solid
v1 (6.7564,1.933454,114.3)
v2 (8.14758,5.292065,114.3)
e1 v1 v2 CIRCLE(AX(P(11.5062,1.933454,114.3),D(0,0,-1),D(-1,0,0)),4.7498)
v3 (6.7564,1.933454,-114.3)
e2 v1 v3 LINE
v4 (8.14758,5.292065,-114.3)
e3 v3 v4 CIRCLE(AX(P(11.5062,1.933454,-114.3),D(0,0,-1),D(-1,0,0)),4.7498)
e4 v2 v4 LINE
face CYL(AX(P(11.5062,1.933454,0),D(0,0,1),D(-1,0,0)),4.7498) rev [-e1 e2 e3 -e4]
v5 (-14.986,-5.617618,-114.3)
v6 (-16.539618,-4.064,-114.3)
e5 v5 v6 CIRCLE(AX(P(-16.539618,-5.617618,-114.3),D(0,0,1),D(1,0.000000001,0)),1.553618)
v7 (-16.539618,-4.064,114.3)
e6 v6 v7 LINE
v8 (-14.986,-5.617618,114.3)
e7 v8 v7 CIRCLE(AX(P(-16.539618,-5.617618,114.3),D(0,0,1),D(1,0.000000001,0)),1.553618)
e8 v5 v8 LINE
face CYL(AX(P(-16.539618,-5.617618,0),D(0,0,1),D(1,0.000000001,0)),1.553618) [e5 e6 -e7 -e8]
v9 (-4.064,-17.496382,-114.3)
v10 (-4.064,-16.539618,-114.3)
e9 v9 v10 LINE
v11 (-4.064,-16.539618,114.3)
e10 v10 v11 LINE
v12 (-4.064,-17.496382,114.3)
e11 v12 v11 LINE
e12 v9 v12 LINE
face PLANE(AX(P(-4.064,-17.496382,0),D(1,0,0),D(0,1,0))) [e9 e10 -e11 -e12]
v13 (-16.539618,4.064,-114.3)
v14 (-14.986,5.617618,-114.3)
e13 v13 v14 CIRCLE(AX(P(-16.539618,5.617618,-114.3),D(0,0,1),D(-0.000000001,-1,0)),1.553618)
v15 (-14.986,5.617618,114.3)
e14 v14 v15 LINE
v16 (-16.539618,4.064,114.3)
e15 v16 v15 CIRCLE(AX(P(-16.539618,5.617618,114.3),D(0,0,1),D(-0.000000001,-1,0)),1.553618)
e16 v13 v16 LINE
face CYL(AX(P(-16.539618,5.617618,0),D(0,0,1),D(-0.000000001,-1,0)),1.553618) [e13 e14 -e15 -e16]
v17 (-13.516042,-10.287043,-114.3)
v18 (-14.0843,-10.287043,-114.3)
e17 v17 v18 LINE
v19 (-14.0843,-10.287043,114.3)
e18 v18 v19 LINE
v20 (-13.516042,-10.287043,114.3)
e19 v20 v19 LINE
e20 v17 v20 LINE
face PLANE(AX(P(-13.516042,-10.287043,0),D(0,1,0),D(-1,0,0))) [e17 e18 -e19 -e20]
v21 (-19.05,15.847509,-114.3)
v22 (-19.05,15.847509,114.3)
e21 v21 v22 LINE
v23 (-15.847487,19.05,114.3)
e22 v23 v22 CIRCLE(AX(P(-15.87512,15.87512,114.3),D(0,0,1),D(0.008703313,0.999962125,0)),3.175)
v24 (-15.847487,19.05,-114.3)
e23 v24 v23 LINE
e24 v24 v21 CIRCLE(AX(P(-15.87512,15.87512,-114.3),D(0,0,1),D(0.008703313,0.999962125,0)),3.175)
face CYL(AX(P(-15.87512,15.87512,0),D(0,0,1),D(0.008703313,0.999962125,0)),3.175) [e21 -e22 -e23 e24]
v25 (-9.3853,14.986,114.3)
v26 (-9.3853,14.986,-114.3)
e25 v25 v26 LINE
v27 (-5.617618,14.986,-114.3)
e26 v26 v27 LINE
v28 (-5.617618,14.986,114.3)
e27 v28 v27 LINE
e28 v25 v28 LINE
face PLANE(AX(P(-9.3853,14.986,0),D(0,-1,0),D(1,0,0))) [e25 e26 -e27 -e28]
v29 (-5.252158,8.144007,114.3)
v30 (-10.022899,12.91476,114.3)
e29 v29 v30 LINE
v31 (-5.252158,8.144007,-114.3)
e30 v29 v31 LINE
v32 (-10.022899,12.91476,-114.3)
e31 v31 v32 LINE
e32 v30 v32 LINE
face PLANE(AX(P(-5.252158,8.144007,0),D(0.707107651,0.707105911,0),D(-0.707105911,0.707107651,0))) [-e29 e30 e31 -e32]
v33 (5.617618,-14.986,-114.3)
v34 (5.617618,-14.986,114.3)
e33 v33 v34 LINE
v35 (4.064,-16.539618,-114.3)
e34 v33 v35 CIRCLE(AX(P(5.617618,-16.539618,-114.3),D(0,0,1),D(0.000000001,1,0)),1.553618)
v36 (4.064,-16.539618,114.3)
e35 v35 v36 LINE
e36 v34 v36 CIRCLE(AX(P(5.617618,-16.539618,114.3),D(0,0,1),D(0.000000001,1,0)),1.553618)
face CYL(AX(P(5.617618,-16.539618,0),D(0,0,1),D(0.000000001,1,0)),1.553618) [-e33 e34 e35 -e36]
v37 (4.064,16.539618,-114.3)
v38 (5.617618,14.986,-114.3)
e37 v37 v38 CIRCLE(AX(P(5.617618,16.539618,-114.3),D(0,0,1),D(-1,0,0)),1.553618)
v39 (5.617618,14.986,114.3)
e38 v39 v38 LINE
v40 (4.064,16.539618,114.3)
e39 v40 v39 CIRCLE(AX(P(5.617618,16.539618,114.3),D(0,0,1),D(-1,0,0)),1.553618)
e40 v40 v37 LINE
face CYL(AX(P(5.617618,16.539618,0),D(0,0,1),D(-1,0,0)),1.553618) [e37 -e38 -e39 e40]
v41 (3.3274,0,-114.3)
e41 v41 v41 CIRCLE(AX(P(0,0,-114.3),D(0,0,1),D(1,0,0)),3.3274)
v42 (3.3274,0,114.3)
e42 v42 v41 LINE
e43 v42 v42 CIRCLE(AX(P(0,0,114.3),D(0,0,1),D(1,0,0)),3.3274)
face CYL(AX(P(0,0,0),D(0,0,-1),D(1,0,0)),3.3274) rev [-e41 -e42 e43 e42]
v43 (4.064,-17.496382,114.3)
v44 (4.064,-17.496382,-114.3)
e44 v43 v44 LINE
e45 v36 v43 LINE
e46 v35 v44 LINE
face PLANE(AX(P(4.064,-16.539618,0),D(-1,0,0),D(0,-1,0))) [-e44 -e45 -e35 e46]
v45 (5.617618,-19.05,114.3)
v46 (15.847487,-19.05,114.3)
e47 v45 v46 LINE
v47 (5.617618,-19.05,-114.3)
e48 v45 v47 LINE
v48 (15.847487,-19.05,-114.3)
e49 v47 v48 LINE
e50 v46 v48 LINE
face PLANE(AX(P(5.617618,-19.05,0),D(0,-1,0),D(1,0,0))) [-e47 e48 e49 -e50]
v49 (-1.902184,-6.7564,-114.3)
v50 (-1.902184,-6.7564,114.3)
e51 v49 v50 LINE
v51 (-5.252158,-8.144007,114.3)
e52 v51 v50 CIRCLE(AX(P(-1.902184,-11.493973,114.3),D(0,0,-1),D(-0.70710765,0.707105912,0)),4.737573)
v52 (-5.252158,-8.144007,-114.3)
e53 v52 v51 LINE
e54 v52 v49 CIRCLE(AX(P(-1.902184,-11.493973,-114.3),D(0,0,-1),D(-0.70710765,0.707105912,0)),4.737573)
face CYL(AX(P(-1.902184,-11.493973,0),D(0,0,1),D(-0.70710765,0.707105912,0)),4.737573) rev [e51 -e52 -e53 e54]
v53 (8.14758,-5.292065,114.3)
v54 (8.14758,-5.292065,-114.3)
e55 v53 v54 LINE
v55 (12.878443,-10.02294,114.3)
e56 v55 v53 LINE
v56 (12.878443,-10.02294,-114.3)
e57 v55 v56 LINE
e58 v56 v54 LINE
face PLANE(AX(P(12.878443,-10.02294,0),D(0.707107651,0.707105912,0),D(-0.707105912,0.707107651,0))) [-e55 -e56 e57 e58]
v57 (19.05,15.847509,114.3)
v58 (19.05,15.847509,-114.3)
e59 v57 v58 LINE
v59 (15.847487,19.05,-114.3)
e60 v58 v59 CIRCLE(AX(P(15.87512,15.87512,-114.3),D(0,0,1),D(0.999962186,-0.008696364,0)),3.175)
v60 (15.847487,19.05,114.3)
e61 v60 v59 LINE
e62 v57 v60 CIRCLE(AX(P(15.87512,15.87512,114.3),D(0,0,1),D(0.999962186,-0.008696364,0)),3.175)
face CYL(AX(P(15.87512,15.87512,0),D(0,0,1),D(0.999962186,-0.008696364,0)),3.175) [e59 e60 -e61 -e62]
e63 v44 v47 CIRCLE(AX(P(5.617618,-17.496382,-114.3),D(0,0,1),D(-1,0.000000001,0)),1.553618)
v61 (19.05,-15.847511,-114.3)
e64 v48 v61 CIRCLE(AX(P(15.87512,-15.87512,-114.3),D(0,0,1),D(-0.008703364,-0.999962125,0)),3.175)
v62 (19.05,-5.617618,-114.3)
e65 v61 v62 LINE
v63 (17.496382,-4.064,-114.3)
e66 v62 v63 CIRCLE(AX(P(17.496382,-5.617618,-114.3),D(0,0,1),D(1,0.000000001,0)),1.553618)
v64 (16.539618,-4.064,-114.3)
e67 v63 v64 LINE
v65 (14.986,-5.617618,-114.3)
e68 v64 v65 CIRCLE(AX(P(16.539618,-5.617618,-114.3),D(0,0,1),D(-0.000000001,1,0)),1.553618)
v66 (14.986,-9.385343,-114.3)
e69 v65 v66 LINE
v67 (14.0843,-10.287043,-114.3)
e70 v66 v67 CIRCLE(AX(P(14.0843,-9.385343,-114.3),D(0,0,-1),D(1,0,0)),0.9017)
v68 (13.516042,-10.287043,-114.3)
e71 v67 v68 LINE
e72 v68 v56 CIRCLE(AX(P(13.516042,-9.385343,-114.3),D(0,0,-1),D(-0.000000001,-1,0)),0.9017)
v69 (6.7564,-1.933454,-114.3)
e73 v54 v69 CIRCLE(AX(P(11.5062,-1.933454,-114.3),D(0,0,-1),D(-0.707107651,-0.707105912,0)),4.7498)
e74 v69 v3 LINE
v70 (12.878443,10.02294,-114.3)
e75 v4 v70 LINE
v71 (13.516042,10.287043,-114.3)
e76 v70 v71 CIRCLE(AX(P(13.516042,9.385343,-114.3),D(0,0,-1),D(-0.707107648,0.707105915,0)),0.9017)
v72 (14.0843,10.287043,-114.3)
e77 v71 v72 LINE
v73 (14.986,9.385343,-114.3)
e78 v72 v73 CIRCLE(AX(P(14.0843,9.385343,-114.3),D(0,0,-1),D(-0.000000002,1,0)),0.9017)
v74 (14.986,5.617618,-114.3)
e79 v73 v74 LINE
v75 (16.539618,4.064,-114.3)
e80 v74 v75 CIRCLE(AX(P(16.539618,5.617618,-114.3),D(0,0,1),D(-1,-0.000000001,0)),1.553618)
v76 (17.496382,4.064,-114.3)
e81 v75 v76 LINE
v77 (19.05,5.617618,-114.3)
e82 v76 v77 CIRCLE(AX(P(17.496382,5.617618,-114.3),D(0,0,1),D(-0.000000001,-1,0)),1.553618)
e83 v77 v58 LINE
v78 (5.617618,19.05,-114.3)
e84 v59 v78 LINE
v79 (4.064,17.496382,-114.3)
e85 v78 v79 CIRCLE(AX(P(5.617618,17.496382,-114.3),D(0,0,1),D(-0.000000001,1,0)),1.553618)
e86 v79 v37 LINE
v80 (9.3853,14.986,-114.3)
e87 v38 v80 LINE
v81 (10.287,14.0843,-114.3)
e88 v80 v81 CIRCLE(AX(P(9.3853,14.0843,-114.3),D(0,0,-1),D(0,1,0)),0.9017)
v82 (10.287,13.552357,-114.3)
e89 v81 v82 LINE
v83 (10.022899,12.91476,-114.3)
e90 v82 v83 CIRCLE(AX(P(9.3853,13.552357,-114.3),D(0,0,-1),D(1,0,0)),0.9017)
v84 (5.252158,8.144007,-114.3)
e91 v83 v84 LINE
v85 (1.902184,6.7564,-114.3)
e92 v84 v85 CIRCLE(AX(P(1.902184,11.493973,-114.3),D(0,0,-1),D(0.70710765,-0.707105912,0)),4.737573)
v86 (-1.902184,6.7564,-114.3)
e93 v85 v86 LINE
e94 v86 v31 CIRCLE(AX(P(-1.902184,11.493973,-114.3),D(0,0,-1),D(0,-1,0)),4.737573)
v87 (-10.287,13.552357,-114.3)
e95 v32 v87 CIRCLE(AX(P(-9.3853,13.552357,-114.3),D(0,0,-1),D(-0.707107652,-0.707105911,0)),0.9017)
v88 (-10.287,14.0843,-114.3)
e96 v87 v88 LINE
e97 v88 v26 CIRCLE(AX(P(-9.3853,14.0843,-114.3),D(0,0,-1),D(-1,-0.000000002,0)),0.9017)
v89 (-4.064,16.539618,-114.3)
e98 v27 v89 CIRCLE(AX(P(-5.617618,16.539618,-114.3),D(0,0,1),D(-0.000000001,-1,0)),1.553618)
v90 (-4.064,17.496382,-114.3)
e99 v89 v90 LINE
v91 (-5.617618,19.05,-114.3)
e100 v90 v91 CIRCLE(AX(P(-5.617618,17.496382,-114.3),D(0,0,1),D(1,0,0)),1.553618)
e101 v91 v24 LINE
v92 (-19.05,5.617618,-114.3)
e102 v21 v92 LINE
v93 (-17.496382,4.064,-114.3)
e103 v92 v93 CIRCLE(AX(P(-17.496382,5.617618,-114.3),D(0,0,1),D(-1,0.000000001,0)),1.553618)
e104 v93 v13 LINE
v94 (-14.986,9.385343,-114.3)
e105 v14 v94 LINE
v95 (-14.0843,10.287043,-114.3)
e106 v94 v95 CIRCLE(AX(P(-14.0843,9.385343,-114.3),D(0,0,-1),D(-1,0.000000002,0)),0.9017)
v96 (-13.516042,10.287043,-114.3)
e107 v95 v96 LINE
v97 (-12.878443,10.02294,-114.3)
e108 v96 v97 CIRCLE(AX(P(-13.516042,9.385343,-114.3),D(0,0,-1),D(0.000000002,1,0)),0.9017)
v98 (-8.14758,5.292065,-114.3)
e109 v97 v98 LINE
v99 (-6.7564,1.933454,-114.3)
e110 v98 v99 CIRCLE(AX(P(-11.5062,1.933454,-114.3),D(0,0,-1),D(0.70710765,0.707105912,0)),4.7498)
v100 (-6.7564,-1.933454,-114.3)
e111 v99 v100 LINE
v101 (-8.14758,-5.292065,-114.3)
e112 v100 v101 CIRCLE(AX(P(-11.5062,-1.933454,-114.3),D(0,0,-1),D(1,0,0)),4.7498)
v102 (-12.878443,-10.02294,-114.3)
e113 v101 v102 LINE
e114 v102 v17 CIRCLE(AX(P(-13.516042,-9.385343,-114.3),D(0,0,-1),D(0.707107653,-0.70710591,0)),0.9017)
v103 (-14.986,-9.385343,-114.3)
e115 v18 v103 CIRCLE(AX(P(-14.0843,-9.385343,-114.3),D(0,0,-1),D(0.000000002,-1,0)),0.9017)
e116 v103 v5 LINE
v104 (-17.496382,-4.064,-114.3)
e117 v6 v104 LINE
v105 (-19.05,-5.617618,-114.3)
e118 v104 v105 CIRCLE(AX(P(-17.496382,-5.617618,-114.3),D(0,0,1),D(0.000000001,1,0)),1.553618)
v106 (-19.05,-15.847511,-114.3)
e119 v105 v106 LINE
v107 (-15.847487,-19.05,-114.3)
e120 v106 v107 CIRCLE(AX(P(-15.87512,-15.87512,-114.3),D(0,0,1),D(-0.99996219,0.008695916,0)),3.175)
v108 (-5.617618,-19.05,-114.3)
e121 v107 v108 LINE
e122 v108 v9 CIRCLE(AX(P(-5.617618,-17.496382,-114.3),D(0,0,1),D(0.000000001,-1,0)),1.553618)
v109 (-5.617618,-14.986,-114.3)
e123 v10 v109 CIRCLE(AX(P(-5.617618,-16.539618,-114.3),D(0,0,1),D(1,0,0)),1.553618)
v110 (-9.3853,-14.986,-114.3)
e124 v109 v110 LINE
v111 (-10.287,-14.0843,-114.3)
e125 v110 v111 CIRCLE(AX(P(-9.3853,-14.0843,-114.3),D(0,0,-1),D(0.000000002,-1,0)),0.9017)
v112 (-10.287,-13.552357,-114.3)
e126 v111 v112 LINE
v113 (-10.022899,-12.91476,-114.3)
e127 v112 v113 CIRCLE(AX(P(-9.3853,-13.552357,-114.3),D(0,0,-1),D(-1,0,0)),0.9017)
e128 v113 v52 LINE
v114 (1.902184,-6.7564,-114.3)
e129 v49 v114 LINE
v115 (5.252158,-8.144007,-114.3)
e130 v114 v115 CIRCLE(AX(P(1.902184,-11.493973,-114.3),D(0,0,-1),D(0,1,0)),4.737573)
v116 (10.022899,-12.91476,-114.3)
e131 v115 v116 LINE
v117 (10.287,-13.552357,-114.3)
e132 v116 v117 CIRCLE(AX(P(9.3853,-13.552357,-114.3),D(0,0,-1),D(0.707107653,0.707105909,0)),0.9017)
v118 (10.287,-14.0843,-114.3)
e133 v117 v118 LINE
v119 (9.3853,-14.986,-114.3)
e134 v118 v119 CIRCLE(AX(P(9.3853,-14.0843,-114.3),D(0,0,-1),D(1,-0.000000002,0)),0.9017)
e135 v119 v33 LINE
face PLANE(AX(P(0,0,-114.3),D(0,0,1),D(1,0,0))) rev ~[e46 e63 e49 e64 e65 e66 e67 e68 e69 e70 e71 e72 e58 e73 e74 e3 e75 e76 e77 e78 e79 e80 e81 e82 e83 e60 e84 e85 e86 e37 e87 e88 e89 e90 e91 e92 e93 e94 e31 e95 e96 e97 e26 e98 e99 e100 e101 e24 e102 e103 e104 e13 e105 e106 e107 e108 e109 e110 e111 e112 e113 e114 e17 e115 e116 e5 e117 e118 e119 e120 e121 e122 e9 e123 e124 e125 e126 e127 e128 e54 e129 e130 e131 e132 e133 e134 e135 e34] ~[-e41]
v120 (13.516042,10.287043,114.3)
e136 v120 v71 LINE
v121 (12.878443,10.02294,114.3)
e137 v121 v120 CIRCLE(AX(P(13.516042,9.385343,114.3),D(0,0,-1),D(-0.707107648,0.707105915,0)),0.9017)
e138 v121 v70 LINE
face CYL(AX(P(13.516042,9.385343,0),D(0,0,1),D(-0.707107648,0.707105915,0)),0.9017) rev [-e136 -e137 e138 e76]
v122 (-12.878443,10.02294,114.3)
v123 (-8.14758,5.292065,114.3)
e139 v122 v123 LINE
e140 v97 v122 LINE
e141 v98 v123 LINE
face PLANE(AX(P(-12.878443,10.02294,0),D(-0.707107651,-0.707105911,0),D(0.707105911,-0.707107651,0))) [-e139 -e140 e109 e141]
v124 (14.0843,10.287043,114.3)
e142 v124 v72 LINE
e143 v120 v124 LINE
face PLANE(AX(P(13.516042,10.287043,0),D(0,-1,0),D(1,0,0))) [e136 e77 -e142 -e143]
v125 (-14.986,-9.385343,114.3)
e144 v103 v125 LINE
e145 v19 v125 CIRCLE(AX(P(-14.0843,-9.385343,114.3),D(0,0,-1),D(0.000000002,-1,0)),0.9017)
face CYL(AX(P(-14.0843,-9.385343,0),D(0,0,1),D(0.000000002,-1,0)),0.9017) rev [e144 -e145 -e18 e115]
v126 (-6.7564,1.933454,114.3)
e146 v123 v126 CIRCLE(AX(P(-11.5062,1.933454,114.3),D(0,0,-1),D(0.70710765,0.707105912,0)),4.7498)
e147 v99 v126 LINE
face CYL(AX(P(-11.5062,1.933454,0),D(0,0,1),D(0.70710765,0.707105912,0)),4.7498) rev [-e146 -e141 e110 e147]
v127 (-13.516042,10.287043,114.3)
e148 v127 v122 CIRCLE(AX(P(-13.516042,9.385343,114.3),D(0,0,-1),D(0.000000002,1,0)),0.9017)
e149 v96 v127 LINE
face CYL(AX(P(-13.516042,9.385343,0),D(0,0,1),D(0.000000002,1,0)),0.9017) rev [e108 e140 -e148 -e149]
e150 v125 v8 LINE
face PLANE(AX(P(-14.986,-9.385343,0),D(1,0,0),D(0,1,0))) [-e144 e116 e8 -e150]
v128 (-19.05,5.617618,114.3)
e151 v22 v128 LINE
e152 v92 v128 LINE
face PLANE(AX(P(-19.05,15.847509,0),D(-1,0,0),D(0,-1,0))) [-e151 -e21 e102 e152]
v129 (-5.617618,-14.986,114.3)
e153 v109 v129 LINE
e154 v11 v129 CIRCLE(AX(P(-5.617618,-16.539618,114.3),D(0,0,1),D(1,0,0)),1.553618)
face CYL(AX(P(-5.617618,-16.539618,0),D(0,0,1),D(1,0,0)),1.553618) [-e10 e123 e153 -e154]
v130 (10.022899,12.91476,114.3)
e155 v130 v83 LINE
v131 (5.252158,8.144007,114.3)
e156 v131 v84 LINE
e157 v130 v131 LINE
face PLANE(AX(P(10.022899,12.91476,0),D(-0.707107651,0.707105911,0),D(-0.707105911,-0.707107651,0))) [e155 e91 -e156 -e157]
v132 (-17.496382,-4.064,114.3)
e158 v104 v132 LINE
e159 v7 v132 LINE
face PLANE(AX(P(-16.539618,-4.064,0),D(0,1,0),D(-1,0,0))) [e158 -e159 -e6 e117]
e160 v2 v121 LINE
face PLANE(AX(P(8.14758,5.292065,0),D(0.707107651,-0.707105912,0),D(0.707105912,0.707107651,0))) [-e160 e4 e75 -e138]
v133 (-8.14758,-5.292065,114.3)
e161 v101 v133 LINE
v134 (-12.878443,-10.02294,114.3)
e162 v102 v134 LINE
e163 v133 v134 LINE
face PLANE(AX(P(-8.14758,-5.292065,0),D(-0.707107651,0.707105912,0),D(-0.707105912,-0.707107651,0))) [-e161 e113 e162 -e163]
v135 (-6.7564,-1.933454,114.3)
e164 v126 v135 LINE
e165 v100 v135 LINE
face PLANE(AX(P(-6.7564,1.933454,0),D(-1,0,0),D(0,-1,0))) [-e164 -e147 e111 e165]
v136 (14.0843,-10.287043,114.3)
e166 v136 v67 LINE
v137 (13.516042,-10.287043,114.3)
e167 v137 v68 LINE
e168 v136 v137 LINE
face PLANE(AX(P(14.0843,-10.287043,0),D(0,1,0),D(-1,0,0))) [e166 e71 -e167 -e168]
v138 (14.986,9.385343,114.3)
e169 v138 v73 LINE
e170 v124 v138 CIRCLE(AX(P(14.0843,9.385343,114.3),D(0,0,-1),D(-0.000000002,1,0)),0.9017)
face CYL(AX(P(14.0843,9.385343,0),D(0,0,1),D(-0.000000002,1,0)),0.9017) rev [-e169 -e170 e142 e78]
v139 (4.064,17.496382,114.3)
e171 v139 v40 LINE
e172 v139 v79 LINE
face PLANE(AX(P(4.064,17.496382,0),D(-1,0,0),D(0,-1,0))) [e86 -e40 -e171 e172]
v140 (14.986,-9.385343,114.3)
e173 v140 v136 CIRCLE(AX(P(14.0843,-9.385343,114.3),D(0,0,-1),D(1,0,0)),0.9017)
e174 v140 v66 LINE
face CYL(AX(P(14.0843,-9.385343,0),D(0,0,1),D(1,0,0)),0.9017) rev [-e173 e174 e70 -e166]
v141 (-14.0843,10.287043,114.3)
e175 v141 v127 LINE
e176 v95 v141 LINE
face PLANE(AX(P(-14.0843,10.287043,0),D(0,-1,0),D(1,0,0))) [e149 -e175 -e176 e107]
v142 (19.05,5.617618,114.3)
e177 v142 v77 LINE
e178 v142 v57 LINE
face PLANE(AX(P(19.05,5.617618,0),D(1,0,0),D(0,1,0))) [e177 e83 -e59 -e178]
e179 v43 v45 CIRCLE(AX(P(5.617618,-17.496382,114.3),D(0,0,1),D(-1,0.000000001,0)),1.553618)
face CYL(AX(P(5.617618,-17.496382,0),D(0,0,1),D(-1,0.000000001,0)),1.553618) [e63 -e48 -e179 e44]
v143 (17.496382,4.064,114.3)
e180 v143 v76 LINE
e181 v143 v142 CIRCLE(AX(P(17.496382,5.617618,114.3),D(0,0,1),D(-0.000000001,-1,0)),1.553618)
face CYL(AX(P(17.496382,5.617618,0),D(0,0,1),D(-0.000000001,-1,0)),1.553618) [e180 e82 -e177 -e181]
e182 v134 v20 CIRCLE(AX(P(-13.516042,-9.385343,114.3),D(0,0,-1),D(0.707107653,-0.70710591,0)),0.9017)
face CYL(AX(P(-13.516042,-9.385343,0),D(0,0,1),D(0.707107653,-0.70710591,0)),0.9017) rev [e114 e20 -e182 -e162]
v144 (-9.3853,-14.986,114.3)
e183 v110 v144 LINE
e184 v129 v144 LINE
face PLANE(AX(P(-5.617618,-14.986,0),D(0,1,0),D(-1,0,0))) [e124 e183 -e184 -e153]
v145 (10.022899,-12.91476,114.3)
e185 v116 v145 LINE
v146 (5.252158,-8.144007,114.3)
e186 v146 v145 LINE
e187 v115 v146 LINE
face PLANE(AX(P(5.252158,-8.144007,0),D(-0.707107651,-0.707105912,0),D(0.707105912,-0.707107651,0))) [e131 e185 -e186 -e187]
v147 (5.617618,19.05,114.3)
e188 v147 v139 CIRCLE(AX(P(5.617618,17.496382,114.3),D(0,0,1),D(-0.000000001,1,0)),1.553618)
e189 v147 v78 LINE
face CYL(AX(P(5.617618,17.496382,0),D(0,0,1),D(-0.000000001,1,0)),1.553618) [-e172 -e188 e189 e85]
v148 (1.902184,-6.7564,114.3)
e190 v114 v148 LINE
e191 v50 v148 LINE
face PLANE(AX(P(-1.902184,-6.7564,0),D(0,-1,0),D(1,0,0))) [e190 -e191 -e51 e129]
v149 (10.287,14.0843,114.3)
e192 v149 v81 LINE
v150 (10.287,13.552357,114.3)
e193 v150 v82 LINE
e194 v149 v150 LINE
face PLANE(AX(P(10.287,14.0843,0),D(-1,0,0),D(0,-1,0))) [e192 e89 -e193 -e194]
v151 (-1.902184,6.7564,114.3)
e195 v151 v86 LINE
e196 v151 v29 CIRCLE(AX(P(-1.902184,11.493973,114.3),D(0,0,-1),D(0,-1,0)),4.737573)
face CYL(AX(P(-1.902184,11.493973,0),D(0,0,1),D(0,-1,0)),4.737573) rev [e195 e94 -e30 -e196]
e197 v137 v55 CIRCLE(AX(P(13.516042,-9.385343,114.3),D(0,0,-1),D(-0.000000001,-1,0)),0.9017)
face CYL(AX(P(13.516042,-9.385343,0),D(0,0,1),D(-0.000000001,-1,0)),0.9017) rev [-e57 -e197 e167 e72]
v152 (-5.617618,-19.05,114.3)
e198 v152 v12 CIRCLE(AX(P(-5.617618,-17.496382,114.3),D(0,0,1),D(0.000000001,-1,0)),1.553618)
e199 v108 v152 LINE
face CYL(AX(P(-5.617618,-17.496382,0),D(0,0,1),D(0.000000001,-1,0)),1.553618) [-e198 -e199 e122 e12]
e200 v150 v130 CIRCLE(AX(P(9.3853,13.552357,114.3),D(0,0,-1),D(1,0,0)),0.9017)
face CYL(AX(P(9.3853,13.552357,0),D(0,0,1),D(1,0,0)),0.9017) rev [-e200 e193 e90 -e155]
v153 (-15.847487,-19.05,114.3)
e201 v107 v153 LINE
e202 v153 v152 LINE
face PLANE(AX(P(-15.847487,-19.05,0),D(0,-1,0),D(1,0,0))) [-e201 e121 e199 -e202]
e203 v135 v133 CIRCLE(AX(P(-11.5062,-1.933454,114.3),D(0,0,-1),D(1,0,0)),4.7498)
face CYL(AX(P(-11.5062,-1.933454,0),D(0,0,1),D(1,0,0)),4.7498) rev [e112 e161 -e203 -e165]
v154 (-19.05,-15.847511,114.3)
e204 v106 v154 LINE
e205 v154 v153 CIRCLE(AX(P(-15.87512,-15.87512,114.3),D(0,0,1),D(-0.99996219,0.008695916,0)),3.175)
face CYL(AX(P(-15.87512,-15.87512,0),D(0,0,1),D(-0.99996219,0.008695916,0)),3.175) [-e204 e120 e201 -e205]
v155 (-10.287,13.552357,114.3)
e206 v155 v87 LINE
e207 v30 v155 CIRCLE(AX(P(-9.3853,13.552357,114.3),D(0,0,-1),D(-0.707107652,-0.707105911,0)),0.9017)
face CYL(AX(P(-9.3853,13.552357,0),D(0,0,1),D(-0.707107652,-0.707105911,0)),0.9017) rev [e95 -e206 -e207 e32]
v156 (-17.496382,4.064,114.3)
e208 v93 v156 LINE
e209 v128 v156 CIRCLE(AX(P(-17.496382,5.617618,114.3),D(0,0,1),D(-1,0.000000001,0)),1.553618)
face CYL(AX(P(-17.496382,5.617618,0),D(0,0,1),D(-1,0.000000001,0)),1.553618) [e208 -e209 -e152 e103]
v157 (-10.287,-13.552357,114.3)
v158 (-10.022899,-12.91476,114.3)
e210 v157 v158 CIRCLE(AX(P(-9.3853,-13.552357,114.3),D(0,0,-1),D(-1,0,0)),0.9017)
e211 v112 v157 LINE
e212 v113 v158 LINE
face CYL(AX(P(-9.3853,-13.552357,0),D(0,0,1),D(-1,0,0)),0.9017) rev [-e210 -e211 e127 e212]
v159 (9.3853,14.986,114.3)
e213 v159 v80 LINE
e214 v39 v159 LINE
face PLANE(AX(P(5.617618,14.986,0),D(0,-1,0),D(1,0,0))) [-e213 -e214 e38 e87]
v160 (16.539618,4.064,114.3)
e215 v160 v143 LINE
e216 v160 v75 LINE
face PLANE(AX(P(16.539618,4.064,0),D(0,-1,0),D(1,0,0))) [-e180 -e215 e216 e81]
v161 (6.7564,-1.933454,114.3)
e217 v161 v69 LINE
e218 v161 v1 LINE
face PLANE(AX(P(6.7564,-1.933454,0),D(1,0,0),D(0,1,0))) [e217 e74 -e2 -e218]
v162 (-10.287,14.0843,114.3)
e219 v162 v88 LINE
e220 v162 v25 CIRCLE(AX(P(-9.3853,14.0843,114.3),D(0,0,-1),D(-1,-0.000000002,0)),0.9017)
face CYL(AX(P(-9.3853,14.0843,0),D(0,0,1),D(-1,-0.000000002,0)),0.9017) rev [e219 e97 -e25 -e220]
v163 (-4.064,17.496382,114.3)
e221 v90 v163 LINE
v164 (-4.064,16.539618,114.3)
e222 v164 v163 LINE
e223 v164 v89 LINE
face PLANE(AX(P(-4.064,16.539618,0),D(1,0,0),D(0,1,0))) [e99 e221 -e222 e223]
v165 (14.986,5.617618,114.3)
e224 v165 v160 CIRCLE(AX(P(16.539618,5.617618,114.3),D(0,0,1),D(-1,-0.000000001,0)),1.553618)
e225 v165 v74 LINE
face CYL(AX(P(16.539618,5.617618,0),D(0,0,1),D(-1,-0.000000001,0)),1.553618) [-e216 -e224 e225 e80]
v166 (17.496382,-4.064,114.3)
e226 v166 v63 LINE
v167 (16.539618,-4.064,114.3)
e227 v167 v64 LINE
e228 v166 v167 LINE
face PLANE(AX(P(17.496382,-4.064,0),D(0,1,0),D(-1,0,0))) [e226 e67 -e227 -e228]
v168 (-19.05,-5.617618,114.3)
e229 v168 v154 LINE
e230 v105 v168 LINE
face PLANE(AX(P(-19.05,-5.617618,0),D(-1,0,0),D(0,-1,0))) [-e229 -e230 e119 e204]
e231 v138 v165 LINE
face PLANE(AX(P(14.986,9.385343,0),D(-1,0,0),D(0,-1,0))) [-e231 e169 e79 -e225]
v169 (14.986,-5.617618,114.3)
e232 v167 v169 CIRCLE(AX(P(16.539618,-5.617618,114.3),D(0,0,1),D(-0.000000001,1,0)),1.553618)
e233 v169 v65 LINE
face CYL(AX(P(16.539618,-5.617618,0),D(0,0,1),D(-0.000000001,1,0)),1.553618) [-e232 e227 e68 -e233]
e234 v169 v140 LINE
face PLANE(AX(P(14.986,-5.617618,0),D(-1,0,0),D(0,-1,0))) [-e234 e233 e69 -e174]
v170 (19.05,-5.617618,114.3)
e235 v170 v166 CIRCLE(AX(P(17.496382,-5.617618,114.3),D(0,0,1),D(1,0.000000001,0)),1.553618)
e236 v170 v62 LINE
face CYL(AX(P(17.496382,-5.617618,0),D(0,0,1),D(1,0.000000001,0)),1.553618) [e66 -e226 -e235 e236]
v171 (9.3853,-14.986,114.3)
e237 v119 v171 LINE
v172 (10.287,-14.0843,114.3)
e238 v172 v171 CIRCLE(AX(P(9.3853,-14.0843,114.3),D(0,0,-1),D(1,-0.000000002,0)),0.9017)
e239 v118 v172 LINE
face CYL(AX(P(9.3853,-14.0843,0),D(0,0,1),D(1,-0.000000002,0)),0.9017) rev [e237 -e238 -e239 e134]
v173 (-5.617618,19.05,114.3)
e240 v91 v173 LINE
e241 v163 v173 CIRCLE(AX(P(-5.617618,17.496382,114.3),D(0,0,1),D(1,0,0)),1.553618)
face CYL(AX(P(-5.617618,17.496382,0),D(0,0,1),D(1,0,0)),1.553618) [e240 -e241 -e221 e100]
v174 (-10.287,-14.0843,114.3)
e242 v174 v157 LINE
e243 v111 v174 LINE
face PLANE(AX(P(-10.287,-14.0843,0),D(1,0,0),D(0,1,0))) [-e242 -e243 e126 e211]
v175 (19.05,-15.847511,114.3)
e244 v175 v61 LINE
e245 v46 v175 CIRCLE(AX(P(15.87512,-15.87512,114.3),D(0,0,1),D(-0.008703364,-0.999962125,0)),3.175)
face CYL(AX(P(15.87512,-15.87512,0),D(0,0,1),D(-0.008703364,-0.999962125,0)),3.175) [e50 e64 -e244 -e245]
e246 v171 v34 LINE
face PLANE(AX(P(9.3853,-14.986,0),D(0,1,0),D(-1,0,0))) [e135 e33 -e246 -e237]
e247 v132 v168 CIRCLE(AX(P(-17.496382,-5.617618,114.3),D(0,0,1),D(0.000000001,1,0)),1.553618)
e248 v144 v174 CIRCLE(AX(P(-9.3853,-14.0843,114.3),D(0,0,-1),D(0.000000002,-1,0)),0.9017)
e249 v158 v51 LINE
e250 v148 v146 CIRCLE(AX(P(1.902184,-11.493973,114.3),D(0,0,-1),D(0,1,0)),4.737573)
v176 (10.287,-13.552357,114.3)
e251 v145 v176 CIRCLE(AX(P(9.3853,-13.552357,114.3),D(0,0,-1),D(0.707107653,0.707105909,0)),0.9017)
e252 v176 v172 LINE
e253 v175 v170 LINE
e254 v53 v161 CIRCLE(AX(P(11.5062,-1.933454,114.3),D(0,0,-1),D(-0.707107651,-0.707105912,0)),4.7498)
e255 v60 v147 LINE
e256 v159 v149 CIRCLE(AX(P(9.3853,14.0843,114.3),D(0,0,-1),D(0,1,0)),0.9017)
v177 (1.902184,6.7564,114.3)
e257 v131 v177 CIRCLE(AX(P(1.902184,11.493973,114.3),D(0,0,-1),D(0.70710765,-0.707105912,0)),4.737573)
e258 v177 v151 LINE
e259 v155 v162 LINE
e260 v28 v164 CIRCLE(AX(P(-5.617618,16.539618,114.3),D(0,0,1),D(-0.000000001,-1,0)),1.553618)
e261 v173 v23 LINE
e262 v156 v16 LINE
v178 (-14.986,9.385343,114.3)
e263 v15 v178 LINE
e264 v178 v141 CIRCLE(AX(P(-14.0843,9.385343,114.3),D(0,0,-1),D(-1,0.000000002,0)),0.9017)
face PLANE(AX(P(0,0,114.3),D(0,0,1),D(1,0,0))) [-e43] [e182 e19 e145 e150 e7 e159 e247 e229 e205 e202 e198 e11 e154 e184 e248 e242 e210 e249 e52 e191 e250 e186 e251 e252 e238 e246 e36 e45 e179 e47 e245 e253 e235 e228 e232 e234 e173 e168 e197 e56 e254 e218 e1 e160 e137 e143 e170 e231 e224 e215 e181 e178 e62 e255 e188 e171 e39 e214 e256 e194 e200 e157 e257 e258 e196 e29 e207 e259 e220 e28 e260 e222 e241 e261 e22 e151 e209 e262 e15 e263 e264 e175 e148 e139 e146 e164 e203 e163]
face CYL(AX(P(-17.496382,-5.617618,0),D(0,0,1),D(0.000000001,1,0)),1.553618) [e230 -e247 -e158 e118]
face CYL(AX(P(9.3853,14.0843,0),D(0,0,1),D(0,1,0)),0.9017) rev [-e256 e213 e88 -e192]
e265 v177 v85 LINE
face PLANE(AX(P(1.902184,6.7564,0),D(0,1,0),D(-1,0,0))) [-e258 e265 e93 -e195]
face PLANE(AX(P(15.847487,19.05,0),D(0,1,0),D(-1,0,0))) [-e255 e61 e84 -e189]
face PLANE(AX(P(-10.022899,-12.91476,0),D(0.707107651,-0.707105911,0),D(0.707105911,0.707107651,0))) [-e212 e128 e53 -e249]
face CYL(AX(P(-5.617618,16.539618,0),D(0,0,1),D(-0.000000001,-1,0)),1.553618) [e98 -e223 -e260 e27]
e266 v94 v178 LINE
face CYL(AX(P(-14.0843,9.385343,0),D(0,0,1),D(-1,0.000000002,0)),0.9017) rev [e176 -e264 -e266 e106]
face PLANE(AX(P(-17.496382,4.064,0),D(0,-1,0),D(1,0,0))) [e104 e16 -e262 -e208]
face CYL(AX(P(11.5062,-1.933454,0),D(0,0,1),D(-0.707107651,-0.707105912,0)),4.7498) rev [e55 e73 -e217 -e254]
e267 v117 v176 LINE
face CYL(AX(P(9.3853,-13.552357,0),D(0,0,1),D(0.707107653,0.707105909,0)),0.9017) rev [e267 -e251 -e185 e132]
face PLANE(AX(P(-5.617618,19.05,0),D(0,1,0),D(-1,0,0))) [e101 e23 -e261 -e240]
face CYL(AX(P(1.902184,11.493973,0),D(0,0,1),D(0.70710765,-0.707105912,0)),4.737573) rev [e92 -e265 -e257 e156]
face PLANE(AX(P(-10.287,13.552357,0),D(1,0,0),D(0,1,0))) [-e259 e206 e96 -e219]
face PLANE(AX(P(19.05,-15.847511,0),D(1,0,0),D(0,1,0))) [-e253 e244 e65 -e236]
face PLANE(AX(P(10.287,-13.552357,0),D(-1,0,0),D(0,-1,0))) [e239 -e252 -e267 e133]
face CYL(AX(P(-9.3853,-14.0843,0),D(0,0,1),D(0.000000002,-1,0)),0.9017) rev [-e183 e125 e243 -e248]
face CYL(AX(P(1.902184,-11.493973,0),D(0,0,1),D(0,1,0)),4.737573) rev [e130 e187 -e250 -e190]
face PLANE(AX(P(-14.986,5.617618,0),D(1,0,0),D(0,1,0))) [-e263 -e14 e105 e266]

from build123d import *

# Parameters (mm, degrees)
SKETCH1_R           = 3.3274
BOSS_EXTRUDE1_DEPTH = 114.3


with BuildPart() as part:
    # Sketch1 → Boss-Extrude1 (new body, symmetric)
    with BuildSketch(Plane.XY):
        with BuildLine():
            Line((-4.064, 16.539617552), (-4.064, 17.496382454))
            ThreePointArc((-4.064, 17.496382454), (-4.519044044, 18.594955958), (-5.617617547, 19.050000004))
            Line((-5.617617547, 19.050000004), (-15.84748704, 19.050000004))
            ThreePointArc((-15.84748704, 19.050000004), (-18.12017629, 18.120192086), (-19.050000001, 15.847509297))
            Line((-19.050000001, 15.847509297), (-19.050000001, 5.617617549))
            ThreePointArc((-19.050000001, 5.617617549), (-18.594955957, 4.519044045), (-17.496382454, 4.064))
            Line((-17.496382454, 4.064), (-16.539617549, 4.064))
            ThreePointArc((-16.539617549, 4.064), (-15.441044044, 4.519044045), (-14.986, 5.617617549))
            Line((-14.986, 5.617617549), (-14.986, 9.385342517))
            ThreePointArc((-14.986, 9.385342517), (-14.721898184, 10.022940701), (-14.0843, 10.287042517))
            Line((-14.0843, 10.287042517), (-13.516042086, 10.287042517))
            ThreePointArc((-13.516042086, 10.287042517), (-13.170975923, 10.218404479), (-12.878443117, 10.022939917))
            Line((-12.878443117, 10.022939917), (-8.14758008, 5.292065242))
            ThreePointArc((-8.14758008, 5.292065242), (-7.117955877, 3.751120652), (-6.756399998, 1.933453582))
            Line((-6.756399998, 1.933453582), (-6.756399998, -1.933453584))
            ThreePointArc((-6.756399998, -1.933453584), (-7.117955877, -3.751120652), (-8.147580078, -5.292065242))
            Line((-8.147580078, -5.292065242), (-12.878443116, -10.022939917))
            ThreePointArc((-12.878443116, -10.022939917), (-13.170975922, -10.21840448), (-13.516042086, -10.287042518))
            Line((-13.516042086, -10.287042518), (-14.0843, -10.287042518))
            ThreePointArc((-14.0843, -10.287042518), (-14.721898185, -10.022940703), (-14.986, -9.385342518))
            Line((-14.986, -9.385342518), (-14.986, -5.617617549))
            ThreePointArc((-14.986, -5.617617549), (-15.441044044, -4.519044046), (-16.539617547, -4.064))
            Line((-16.539617547, -4.064), (-17.496382452, -4.064))
            ThreePointArc((-17.496382452, -4.064), (-18.594955956, -4.519044044), (-19.050000001, -5.617617547))
            Line((-19.050000001, -5.617617547), (-19.050000001, -15.84751072))
            ThreePointArc((-19.050000001, -15.84751072), (-18.120175718, -18.120192644), (-15.84748687, -19.050000001))
            Line((-15.84748687, -19.050000001), (-5.617617549, -19.050000001))
            ThreePointArc((-5.617617549, -19.050000001), (-4.519044046, -18.594955957), (-4.064, -17.496382454))
            Line((-4.064, -17.496382454), (-4.064, -16.539617549))
            ThreePointArc((-4.064, -16.539617549), (-4.519044045, -15.441044044), (-5.617617549, -14.985999999))
            Line((-5.617617549, -14.985999999), (-9.3853, -14.985999999))
            ThreePointArc((-9.3853, -14.985999999), (-10.022898185, -14.721898184), (-10.287, -14.084299999))
            Line((-10.287, -14.084299999), (-10.287, -13.552357131))
            ThreePointArc((-10.287, -13.552357131), (-10.218362387, -13.207291993), (-10.022898969, -12.914759731))
            Line((-10.022898969, -12.914759731), (-5.252158104, -8.14400713))
            ThreePointArc((-5.252158104, -8.14400713), (-3.715177371, -7.117027388), (-1.902183976, -6.7564))
            Line((-1.902183976, -6.7564), (1.902183976, -6.7564))
            ThreePointArc((1.902183976, -6.7564), (3.715177372, -7.117027388), (5.252158106, -8.144007132))
            Line((5.252158106, -8.144007132), (10.022898969, -12.91475973))
            ThreePointArc((10.022898969, -12.91475973), (10.218362387, -13.207291993), (10.287000001, -13.552357132))
            Line((10.287000001, -13.552357132), (10.287000001, -14.0843))
            ThreePointArc((10.287000001, -14.0843), (10.022898185, -14.721898184), (9.385300001, -14.986))
            Line((9.385300001, -14.986), (5.617617549, -14.986))
            ThreePointArc((5.617617549, -14.986), (4.519044045, -15.441044044), (4.064, -16.539617547))
            Line((4.064, -16.539617547), (4.064, -17.496382452))
            ThreePointArc((4.064, -17.496382452), (4.519044043, -18.594955955), (5.617617546, -19.050000001))
            Line((5.617617546, -19.050000001), (15.847486867, -19.050000001))
            ThreePointArc((15.847486867, -19.050000001), (18.120175716, -18.120192646), (19.05, -15.847510723))
            Line((19.05, -15.847510723), (19.05, -5.617617549))
            ThreePointArc((19.05, -5.617617549), (18.594955955, -4.519044045), (17.496382451, -4.064))
            Line((17.496382451, -4.064), (16.539617548, -4.064))
            ThreePointArc((16.539617548, -4.064), (15.441044044, -4.519044045), (14.985999999, -5.617617549))
            Line((14.985999999, -5.617617549), (14.985999999, -9.385342517))
            ThreePointArc((14.985999999, -9.385342517), (14.721898184, -10.022940701), (14.084299999, -10.287042517))
            Line((14.084299999, -10.287042517), (13.516042085, -10.287042517))
            ThreePointArc((13.516042085, -10.287042517), (13.170975922, -10.218404479), (12.878443117, -10.022939917))
            Line((12.878443117, -10.022939917), (8.147580079, -5.292065242))
            ThreePointArc((8.147580079, -5.292065242), (7.117955877, -3.751120652), (6.756399998, -1.933453583))
            Line((6.756399998, -1.933453583), (6.756399998, 1.933453583))
            ThreePointArc((6.756399998, 1.933453583), (7.117955877, 3.751120652), (8.147580078, 5.292065242))
            Line((8.147580078, 5.292065242), (12.878443116, 10.022939916))
            ThreePointArc((12.878443116, 10.022939916), (13.170975922, 10.218404477), (13.516042084, 10.287042515))
            Line((13.516042084, 10.287042515), (14.084299998, 10.287042515))
            ThreePointArc((14.084299998, 10.287042515), (14.721898183, 10.0229407), (14.985999998, 9.385342515))
            Line((14.985999998, 9.385342515), (14.985999998, 5.617617546))
            ThreePointArc((14.985999998, 5.617617546), (15.441044043, 4.519044042), (16.539617547, 4.063999997))
            Line((16.539617547, 4.063999997), (17.49638245, 4.063999997))
            ThreePointArc((17.49638245, 4.063999997), (18.594955956, 4.519044042), (19.05, 5.617617548))
            Line((19.05, 5.617617548), (19.05, 15.8475093))
            ThreePointArc((19.05, 15.8475093), (18.120176289, 18.120192086), (15.847487041, 19.050000004))
            Line((15.847487041, 19.050000004), (5.617617548, 19.050000004))
            ThreePointArc((5.617617548, 19.050000004), (4.519044044, 18.594955959), (4.063999999, 17.496382454))
            Line((4.063999999, 17.496382454), (4.063999999, 16.539617552))
            ThreePointArc((4.063999999, 16.539617552), (4.519044044, 15.441044047), (5.617617548, 14.986000002))
            Line((5.617617548, 14.986000002), (9.385299999, 14.986000002))
            ThreePointArc((9.385299999, 14.986000002), (10.022898183, 14.721898187), (10.286999999, 14.084300002))
            Line((10.286999999, 14.084300002), (10.286999999, 13.552357134))
            ThreePointArc((10.286999999, 13.552357134), (10.218362386, 13.207291996), (10.022898968, 12.914759734))
            Line((10.022898968, 12.914759734), (5.252158103, 8.144007133))
            ThreePointArc((5.252158103, 8.144007133), (3.71517737, 7.117027391), (1.902183975, 6.756400003))
            Line((1.902183975, 6.756400003), (-1.902183977, 6.756400003))
            ThreePointArc((-1.902183977, 6.756400003), (-3.715177373, 7.117027391), (-5.252158106, 8.144007134))
            Line((-5.252158106, 8.144007134), (-10.022898969, 12.914759733))
            ThreePointArc((-10.022898969, 12.914759733), (-10.218362387, 13.207291995), (-10.287000001, 13.552357134))
            Line((-10.287000001, 13.552357134), (-10.287000001, 14.084300002))
            ThreePointArc((-10.287000001, 14.084300002), (-10.022898186, 14.721898187), (-9.385300001, 14.986000002))
            Line((-9.385300001, 14.986000002), (-5.617617549, 14.986000002))
            ThreePointArc((-5.617617549, 14.986000002), (-4.519044044, 15.441044047), (-4.064, 16.539617552))
        make_face()
        Circle(SKETCH1_R, mode=Mode.SUBTRACT)
    extrude(amount=BOSS_EXTRUDE1_DEPTH, both=True)


solid = part.part
